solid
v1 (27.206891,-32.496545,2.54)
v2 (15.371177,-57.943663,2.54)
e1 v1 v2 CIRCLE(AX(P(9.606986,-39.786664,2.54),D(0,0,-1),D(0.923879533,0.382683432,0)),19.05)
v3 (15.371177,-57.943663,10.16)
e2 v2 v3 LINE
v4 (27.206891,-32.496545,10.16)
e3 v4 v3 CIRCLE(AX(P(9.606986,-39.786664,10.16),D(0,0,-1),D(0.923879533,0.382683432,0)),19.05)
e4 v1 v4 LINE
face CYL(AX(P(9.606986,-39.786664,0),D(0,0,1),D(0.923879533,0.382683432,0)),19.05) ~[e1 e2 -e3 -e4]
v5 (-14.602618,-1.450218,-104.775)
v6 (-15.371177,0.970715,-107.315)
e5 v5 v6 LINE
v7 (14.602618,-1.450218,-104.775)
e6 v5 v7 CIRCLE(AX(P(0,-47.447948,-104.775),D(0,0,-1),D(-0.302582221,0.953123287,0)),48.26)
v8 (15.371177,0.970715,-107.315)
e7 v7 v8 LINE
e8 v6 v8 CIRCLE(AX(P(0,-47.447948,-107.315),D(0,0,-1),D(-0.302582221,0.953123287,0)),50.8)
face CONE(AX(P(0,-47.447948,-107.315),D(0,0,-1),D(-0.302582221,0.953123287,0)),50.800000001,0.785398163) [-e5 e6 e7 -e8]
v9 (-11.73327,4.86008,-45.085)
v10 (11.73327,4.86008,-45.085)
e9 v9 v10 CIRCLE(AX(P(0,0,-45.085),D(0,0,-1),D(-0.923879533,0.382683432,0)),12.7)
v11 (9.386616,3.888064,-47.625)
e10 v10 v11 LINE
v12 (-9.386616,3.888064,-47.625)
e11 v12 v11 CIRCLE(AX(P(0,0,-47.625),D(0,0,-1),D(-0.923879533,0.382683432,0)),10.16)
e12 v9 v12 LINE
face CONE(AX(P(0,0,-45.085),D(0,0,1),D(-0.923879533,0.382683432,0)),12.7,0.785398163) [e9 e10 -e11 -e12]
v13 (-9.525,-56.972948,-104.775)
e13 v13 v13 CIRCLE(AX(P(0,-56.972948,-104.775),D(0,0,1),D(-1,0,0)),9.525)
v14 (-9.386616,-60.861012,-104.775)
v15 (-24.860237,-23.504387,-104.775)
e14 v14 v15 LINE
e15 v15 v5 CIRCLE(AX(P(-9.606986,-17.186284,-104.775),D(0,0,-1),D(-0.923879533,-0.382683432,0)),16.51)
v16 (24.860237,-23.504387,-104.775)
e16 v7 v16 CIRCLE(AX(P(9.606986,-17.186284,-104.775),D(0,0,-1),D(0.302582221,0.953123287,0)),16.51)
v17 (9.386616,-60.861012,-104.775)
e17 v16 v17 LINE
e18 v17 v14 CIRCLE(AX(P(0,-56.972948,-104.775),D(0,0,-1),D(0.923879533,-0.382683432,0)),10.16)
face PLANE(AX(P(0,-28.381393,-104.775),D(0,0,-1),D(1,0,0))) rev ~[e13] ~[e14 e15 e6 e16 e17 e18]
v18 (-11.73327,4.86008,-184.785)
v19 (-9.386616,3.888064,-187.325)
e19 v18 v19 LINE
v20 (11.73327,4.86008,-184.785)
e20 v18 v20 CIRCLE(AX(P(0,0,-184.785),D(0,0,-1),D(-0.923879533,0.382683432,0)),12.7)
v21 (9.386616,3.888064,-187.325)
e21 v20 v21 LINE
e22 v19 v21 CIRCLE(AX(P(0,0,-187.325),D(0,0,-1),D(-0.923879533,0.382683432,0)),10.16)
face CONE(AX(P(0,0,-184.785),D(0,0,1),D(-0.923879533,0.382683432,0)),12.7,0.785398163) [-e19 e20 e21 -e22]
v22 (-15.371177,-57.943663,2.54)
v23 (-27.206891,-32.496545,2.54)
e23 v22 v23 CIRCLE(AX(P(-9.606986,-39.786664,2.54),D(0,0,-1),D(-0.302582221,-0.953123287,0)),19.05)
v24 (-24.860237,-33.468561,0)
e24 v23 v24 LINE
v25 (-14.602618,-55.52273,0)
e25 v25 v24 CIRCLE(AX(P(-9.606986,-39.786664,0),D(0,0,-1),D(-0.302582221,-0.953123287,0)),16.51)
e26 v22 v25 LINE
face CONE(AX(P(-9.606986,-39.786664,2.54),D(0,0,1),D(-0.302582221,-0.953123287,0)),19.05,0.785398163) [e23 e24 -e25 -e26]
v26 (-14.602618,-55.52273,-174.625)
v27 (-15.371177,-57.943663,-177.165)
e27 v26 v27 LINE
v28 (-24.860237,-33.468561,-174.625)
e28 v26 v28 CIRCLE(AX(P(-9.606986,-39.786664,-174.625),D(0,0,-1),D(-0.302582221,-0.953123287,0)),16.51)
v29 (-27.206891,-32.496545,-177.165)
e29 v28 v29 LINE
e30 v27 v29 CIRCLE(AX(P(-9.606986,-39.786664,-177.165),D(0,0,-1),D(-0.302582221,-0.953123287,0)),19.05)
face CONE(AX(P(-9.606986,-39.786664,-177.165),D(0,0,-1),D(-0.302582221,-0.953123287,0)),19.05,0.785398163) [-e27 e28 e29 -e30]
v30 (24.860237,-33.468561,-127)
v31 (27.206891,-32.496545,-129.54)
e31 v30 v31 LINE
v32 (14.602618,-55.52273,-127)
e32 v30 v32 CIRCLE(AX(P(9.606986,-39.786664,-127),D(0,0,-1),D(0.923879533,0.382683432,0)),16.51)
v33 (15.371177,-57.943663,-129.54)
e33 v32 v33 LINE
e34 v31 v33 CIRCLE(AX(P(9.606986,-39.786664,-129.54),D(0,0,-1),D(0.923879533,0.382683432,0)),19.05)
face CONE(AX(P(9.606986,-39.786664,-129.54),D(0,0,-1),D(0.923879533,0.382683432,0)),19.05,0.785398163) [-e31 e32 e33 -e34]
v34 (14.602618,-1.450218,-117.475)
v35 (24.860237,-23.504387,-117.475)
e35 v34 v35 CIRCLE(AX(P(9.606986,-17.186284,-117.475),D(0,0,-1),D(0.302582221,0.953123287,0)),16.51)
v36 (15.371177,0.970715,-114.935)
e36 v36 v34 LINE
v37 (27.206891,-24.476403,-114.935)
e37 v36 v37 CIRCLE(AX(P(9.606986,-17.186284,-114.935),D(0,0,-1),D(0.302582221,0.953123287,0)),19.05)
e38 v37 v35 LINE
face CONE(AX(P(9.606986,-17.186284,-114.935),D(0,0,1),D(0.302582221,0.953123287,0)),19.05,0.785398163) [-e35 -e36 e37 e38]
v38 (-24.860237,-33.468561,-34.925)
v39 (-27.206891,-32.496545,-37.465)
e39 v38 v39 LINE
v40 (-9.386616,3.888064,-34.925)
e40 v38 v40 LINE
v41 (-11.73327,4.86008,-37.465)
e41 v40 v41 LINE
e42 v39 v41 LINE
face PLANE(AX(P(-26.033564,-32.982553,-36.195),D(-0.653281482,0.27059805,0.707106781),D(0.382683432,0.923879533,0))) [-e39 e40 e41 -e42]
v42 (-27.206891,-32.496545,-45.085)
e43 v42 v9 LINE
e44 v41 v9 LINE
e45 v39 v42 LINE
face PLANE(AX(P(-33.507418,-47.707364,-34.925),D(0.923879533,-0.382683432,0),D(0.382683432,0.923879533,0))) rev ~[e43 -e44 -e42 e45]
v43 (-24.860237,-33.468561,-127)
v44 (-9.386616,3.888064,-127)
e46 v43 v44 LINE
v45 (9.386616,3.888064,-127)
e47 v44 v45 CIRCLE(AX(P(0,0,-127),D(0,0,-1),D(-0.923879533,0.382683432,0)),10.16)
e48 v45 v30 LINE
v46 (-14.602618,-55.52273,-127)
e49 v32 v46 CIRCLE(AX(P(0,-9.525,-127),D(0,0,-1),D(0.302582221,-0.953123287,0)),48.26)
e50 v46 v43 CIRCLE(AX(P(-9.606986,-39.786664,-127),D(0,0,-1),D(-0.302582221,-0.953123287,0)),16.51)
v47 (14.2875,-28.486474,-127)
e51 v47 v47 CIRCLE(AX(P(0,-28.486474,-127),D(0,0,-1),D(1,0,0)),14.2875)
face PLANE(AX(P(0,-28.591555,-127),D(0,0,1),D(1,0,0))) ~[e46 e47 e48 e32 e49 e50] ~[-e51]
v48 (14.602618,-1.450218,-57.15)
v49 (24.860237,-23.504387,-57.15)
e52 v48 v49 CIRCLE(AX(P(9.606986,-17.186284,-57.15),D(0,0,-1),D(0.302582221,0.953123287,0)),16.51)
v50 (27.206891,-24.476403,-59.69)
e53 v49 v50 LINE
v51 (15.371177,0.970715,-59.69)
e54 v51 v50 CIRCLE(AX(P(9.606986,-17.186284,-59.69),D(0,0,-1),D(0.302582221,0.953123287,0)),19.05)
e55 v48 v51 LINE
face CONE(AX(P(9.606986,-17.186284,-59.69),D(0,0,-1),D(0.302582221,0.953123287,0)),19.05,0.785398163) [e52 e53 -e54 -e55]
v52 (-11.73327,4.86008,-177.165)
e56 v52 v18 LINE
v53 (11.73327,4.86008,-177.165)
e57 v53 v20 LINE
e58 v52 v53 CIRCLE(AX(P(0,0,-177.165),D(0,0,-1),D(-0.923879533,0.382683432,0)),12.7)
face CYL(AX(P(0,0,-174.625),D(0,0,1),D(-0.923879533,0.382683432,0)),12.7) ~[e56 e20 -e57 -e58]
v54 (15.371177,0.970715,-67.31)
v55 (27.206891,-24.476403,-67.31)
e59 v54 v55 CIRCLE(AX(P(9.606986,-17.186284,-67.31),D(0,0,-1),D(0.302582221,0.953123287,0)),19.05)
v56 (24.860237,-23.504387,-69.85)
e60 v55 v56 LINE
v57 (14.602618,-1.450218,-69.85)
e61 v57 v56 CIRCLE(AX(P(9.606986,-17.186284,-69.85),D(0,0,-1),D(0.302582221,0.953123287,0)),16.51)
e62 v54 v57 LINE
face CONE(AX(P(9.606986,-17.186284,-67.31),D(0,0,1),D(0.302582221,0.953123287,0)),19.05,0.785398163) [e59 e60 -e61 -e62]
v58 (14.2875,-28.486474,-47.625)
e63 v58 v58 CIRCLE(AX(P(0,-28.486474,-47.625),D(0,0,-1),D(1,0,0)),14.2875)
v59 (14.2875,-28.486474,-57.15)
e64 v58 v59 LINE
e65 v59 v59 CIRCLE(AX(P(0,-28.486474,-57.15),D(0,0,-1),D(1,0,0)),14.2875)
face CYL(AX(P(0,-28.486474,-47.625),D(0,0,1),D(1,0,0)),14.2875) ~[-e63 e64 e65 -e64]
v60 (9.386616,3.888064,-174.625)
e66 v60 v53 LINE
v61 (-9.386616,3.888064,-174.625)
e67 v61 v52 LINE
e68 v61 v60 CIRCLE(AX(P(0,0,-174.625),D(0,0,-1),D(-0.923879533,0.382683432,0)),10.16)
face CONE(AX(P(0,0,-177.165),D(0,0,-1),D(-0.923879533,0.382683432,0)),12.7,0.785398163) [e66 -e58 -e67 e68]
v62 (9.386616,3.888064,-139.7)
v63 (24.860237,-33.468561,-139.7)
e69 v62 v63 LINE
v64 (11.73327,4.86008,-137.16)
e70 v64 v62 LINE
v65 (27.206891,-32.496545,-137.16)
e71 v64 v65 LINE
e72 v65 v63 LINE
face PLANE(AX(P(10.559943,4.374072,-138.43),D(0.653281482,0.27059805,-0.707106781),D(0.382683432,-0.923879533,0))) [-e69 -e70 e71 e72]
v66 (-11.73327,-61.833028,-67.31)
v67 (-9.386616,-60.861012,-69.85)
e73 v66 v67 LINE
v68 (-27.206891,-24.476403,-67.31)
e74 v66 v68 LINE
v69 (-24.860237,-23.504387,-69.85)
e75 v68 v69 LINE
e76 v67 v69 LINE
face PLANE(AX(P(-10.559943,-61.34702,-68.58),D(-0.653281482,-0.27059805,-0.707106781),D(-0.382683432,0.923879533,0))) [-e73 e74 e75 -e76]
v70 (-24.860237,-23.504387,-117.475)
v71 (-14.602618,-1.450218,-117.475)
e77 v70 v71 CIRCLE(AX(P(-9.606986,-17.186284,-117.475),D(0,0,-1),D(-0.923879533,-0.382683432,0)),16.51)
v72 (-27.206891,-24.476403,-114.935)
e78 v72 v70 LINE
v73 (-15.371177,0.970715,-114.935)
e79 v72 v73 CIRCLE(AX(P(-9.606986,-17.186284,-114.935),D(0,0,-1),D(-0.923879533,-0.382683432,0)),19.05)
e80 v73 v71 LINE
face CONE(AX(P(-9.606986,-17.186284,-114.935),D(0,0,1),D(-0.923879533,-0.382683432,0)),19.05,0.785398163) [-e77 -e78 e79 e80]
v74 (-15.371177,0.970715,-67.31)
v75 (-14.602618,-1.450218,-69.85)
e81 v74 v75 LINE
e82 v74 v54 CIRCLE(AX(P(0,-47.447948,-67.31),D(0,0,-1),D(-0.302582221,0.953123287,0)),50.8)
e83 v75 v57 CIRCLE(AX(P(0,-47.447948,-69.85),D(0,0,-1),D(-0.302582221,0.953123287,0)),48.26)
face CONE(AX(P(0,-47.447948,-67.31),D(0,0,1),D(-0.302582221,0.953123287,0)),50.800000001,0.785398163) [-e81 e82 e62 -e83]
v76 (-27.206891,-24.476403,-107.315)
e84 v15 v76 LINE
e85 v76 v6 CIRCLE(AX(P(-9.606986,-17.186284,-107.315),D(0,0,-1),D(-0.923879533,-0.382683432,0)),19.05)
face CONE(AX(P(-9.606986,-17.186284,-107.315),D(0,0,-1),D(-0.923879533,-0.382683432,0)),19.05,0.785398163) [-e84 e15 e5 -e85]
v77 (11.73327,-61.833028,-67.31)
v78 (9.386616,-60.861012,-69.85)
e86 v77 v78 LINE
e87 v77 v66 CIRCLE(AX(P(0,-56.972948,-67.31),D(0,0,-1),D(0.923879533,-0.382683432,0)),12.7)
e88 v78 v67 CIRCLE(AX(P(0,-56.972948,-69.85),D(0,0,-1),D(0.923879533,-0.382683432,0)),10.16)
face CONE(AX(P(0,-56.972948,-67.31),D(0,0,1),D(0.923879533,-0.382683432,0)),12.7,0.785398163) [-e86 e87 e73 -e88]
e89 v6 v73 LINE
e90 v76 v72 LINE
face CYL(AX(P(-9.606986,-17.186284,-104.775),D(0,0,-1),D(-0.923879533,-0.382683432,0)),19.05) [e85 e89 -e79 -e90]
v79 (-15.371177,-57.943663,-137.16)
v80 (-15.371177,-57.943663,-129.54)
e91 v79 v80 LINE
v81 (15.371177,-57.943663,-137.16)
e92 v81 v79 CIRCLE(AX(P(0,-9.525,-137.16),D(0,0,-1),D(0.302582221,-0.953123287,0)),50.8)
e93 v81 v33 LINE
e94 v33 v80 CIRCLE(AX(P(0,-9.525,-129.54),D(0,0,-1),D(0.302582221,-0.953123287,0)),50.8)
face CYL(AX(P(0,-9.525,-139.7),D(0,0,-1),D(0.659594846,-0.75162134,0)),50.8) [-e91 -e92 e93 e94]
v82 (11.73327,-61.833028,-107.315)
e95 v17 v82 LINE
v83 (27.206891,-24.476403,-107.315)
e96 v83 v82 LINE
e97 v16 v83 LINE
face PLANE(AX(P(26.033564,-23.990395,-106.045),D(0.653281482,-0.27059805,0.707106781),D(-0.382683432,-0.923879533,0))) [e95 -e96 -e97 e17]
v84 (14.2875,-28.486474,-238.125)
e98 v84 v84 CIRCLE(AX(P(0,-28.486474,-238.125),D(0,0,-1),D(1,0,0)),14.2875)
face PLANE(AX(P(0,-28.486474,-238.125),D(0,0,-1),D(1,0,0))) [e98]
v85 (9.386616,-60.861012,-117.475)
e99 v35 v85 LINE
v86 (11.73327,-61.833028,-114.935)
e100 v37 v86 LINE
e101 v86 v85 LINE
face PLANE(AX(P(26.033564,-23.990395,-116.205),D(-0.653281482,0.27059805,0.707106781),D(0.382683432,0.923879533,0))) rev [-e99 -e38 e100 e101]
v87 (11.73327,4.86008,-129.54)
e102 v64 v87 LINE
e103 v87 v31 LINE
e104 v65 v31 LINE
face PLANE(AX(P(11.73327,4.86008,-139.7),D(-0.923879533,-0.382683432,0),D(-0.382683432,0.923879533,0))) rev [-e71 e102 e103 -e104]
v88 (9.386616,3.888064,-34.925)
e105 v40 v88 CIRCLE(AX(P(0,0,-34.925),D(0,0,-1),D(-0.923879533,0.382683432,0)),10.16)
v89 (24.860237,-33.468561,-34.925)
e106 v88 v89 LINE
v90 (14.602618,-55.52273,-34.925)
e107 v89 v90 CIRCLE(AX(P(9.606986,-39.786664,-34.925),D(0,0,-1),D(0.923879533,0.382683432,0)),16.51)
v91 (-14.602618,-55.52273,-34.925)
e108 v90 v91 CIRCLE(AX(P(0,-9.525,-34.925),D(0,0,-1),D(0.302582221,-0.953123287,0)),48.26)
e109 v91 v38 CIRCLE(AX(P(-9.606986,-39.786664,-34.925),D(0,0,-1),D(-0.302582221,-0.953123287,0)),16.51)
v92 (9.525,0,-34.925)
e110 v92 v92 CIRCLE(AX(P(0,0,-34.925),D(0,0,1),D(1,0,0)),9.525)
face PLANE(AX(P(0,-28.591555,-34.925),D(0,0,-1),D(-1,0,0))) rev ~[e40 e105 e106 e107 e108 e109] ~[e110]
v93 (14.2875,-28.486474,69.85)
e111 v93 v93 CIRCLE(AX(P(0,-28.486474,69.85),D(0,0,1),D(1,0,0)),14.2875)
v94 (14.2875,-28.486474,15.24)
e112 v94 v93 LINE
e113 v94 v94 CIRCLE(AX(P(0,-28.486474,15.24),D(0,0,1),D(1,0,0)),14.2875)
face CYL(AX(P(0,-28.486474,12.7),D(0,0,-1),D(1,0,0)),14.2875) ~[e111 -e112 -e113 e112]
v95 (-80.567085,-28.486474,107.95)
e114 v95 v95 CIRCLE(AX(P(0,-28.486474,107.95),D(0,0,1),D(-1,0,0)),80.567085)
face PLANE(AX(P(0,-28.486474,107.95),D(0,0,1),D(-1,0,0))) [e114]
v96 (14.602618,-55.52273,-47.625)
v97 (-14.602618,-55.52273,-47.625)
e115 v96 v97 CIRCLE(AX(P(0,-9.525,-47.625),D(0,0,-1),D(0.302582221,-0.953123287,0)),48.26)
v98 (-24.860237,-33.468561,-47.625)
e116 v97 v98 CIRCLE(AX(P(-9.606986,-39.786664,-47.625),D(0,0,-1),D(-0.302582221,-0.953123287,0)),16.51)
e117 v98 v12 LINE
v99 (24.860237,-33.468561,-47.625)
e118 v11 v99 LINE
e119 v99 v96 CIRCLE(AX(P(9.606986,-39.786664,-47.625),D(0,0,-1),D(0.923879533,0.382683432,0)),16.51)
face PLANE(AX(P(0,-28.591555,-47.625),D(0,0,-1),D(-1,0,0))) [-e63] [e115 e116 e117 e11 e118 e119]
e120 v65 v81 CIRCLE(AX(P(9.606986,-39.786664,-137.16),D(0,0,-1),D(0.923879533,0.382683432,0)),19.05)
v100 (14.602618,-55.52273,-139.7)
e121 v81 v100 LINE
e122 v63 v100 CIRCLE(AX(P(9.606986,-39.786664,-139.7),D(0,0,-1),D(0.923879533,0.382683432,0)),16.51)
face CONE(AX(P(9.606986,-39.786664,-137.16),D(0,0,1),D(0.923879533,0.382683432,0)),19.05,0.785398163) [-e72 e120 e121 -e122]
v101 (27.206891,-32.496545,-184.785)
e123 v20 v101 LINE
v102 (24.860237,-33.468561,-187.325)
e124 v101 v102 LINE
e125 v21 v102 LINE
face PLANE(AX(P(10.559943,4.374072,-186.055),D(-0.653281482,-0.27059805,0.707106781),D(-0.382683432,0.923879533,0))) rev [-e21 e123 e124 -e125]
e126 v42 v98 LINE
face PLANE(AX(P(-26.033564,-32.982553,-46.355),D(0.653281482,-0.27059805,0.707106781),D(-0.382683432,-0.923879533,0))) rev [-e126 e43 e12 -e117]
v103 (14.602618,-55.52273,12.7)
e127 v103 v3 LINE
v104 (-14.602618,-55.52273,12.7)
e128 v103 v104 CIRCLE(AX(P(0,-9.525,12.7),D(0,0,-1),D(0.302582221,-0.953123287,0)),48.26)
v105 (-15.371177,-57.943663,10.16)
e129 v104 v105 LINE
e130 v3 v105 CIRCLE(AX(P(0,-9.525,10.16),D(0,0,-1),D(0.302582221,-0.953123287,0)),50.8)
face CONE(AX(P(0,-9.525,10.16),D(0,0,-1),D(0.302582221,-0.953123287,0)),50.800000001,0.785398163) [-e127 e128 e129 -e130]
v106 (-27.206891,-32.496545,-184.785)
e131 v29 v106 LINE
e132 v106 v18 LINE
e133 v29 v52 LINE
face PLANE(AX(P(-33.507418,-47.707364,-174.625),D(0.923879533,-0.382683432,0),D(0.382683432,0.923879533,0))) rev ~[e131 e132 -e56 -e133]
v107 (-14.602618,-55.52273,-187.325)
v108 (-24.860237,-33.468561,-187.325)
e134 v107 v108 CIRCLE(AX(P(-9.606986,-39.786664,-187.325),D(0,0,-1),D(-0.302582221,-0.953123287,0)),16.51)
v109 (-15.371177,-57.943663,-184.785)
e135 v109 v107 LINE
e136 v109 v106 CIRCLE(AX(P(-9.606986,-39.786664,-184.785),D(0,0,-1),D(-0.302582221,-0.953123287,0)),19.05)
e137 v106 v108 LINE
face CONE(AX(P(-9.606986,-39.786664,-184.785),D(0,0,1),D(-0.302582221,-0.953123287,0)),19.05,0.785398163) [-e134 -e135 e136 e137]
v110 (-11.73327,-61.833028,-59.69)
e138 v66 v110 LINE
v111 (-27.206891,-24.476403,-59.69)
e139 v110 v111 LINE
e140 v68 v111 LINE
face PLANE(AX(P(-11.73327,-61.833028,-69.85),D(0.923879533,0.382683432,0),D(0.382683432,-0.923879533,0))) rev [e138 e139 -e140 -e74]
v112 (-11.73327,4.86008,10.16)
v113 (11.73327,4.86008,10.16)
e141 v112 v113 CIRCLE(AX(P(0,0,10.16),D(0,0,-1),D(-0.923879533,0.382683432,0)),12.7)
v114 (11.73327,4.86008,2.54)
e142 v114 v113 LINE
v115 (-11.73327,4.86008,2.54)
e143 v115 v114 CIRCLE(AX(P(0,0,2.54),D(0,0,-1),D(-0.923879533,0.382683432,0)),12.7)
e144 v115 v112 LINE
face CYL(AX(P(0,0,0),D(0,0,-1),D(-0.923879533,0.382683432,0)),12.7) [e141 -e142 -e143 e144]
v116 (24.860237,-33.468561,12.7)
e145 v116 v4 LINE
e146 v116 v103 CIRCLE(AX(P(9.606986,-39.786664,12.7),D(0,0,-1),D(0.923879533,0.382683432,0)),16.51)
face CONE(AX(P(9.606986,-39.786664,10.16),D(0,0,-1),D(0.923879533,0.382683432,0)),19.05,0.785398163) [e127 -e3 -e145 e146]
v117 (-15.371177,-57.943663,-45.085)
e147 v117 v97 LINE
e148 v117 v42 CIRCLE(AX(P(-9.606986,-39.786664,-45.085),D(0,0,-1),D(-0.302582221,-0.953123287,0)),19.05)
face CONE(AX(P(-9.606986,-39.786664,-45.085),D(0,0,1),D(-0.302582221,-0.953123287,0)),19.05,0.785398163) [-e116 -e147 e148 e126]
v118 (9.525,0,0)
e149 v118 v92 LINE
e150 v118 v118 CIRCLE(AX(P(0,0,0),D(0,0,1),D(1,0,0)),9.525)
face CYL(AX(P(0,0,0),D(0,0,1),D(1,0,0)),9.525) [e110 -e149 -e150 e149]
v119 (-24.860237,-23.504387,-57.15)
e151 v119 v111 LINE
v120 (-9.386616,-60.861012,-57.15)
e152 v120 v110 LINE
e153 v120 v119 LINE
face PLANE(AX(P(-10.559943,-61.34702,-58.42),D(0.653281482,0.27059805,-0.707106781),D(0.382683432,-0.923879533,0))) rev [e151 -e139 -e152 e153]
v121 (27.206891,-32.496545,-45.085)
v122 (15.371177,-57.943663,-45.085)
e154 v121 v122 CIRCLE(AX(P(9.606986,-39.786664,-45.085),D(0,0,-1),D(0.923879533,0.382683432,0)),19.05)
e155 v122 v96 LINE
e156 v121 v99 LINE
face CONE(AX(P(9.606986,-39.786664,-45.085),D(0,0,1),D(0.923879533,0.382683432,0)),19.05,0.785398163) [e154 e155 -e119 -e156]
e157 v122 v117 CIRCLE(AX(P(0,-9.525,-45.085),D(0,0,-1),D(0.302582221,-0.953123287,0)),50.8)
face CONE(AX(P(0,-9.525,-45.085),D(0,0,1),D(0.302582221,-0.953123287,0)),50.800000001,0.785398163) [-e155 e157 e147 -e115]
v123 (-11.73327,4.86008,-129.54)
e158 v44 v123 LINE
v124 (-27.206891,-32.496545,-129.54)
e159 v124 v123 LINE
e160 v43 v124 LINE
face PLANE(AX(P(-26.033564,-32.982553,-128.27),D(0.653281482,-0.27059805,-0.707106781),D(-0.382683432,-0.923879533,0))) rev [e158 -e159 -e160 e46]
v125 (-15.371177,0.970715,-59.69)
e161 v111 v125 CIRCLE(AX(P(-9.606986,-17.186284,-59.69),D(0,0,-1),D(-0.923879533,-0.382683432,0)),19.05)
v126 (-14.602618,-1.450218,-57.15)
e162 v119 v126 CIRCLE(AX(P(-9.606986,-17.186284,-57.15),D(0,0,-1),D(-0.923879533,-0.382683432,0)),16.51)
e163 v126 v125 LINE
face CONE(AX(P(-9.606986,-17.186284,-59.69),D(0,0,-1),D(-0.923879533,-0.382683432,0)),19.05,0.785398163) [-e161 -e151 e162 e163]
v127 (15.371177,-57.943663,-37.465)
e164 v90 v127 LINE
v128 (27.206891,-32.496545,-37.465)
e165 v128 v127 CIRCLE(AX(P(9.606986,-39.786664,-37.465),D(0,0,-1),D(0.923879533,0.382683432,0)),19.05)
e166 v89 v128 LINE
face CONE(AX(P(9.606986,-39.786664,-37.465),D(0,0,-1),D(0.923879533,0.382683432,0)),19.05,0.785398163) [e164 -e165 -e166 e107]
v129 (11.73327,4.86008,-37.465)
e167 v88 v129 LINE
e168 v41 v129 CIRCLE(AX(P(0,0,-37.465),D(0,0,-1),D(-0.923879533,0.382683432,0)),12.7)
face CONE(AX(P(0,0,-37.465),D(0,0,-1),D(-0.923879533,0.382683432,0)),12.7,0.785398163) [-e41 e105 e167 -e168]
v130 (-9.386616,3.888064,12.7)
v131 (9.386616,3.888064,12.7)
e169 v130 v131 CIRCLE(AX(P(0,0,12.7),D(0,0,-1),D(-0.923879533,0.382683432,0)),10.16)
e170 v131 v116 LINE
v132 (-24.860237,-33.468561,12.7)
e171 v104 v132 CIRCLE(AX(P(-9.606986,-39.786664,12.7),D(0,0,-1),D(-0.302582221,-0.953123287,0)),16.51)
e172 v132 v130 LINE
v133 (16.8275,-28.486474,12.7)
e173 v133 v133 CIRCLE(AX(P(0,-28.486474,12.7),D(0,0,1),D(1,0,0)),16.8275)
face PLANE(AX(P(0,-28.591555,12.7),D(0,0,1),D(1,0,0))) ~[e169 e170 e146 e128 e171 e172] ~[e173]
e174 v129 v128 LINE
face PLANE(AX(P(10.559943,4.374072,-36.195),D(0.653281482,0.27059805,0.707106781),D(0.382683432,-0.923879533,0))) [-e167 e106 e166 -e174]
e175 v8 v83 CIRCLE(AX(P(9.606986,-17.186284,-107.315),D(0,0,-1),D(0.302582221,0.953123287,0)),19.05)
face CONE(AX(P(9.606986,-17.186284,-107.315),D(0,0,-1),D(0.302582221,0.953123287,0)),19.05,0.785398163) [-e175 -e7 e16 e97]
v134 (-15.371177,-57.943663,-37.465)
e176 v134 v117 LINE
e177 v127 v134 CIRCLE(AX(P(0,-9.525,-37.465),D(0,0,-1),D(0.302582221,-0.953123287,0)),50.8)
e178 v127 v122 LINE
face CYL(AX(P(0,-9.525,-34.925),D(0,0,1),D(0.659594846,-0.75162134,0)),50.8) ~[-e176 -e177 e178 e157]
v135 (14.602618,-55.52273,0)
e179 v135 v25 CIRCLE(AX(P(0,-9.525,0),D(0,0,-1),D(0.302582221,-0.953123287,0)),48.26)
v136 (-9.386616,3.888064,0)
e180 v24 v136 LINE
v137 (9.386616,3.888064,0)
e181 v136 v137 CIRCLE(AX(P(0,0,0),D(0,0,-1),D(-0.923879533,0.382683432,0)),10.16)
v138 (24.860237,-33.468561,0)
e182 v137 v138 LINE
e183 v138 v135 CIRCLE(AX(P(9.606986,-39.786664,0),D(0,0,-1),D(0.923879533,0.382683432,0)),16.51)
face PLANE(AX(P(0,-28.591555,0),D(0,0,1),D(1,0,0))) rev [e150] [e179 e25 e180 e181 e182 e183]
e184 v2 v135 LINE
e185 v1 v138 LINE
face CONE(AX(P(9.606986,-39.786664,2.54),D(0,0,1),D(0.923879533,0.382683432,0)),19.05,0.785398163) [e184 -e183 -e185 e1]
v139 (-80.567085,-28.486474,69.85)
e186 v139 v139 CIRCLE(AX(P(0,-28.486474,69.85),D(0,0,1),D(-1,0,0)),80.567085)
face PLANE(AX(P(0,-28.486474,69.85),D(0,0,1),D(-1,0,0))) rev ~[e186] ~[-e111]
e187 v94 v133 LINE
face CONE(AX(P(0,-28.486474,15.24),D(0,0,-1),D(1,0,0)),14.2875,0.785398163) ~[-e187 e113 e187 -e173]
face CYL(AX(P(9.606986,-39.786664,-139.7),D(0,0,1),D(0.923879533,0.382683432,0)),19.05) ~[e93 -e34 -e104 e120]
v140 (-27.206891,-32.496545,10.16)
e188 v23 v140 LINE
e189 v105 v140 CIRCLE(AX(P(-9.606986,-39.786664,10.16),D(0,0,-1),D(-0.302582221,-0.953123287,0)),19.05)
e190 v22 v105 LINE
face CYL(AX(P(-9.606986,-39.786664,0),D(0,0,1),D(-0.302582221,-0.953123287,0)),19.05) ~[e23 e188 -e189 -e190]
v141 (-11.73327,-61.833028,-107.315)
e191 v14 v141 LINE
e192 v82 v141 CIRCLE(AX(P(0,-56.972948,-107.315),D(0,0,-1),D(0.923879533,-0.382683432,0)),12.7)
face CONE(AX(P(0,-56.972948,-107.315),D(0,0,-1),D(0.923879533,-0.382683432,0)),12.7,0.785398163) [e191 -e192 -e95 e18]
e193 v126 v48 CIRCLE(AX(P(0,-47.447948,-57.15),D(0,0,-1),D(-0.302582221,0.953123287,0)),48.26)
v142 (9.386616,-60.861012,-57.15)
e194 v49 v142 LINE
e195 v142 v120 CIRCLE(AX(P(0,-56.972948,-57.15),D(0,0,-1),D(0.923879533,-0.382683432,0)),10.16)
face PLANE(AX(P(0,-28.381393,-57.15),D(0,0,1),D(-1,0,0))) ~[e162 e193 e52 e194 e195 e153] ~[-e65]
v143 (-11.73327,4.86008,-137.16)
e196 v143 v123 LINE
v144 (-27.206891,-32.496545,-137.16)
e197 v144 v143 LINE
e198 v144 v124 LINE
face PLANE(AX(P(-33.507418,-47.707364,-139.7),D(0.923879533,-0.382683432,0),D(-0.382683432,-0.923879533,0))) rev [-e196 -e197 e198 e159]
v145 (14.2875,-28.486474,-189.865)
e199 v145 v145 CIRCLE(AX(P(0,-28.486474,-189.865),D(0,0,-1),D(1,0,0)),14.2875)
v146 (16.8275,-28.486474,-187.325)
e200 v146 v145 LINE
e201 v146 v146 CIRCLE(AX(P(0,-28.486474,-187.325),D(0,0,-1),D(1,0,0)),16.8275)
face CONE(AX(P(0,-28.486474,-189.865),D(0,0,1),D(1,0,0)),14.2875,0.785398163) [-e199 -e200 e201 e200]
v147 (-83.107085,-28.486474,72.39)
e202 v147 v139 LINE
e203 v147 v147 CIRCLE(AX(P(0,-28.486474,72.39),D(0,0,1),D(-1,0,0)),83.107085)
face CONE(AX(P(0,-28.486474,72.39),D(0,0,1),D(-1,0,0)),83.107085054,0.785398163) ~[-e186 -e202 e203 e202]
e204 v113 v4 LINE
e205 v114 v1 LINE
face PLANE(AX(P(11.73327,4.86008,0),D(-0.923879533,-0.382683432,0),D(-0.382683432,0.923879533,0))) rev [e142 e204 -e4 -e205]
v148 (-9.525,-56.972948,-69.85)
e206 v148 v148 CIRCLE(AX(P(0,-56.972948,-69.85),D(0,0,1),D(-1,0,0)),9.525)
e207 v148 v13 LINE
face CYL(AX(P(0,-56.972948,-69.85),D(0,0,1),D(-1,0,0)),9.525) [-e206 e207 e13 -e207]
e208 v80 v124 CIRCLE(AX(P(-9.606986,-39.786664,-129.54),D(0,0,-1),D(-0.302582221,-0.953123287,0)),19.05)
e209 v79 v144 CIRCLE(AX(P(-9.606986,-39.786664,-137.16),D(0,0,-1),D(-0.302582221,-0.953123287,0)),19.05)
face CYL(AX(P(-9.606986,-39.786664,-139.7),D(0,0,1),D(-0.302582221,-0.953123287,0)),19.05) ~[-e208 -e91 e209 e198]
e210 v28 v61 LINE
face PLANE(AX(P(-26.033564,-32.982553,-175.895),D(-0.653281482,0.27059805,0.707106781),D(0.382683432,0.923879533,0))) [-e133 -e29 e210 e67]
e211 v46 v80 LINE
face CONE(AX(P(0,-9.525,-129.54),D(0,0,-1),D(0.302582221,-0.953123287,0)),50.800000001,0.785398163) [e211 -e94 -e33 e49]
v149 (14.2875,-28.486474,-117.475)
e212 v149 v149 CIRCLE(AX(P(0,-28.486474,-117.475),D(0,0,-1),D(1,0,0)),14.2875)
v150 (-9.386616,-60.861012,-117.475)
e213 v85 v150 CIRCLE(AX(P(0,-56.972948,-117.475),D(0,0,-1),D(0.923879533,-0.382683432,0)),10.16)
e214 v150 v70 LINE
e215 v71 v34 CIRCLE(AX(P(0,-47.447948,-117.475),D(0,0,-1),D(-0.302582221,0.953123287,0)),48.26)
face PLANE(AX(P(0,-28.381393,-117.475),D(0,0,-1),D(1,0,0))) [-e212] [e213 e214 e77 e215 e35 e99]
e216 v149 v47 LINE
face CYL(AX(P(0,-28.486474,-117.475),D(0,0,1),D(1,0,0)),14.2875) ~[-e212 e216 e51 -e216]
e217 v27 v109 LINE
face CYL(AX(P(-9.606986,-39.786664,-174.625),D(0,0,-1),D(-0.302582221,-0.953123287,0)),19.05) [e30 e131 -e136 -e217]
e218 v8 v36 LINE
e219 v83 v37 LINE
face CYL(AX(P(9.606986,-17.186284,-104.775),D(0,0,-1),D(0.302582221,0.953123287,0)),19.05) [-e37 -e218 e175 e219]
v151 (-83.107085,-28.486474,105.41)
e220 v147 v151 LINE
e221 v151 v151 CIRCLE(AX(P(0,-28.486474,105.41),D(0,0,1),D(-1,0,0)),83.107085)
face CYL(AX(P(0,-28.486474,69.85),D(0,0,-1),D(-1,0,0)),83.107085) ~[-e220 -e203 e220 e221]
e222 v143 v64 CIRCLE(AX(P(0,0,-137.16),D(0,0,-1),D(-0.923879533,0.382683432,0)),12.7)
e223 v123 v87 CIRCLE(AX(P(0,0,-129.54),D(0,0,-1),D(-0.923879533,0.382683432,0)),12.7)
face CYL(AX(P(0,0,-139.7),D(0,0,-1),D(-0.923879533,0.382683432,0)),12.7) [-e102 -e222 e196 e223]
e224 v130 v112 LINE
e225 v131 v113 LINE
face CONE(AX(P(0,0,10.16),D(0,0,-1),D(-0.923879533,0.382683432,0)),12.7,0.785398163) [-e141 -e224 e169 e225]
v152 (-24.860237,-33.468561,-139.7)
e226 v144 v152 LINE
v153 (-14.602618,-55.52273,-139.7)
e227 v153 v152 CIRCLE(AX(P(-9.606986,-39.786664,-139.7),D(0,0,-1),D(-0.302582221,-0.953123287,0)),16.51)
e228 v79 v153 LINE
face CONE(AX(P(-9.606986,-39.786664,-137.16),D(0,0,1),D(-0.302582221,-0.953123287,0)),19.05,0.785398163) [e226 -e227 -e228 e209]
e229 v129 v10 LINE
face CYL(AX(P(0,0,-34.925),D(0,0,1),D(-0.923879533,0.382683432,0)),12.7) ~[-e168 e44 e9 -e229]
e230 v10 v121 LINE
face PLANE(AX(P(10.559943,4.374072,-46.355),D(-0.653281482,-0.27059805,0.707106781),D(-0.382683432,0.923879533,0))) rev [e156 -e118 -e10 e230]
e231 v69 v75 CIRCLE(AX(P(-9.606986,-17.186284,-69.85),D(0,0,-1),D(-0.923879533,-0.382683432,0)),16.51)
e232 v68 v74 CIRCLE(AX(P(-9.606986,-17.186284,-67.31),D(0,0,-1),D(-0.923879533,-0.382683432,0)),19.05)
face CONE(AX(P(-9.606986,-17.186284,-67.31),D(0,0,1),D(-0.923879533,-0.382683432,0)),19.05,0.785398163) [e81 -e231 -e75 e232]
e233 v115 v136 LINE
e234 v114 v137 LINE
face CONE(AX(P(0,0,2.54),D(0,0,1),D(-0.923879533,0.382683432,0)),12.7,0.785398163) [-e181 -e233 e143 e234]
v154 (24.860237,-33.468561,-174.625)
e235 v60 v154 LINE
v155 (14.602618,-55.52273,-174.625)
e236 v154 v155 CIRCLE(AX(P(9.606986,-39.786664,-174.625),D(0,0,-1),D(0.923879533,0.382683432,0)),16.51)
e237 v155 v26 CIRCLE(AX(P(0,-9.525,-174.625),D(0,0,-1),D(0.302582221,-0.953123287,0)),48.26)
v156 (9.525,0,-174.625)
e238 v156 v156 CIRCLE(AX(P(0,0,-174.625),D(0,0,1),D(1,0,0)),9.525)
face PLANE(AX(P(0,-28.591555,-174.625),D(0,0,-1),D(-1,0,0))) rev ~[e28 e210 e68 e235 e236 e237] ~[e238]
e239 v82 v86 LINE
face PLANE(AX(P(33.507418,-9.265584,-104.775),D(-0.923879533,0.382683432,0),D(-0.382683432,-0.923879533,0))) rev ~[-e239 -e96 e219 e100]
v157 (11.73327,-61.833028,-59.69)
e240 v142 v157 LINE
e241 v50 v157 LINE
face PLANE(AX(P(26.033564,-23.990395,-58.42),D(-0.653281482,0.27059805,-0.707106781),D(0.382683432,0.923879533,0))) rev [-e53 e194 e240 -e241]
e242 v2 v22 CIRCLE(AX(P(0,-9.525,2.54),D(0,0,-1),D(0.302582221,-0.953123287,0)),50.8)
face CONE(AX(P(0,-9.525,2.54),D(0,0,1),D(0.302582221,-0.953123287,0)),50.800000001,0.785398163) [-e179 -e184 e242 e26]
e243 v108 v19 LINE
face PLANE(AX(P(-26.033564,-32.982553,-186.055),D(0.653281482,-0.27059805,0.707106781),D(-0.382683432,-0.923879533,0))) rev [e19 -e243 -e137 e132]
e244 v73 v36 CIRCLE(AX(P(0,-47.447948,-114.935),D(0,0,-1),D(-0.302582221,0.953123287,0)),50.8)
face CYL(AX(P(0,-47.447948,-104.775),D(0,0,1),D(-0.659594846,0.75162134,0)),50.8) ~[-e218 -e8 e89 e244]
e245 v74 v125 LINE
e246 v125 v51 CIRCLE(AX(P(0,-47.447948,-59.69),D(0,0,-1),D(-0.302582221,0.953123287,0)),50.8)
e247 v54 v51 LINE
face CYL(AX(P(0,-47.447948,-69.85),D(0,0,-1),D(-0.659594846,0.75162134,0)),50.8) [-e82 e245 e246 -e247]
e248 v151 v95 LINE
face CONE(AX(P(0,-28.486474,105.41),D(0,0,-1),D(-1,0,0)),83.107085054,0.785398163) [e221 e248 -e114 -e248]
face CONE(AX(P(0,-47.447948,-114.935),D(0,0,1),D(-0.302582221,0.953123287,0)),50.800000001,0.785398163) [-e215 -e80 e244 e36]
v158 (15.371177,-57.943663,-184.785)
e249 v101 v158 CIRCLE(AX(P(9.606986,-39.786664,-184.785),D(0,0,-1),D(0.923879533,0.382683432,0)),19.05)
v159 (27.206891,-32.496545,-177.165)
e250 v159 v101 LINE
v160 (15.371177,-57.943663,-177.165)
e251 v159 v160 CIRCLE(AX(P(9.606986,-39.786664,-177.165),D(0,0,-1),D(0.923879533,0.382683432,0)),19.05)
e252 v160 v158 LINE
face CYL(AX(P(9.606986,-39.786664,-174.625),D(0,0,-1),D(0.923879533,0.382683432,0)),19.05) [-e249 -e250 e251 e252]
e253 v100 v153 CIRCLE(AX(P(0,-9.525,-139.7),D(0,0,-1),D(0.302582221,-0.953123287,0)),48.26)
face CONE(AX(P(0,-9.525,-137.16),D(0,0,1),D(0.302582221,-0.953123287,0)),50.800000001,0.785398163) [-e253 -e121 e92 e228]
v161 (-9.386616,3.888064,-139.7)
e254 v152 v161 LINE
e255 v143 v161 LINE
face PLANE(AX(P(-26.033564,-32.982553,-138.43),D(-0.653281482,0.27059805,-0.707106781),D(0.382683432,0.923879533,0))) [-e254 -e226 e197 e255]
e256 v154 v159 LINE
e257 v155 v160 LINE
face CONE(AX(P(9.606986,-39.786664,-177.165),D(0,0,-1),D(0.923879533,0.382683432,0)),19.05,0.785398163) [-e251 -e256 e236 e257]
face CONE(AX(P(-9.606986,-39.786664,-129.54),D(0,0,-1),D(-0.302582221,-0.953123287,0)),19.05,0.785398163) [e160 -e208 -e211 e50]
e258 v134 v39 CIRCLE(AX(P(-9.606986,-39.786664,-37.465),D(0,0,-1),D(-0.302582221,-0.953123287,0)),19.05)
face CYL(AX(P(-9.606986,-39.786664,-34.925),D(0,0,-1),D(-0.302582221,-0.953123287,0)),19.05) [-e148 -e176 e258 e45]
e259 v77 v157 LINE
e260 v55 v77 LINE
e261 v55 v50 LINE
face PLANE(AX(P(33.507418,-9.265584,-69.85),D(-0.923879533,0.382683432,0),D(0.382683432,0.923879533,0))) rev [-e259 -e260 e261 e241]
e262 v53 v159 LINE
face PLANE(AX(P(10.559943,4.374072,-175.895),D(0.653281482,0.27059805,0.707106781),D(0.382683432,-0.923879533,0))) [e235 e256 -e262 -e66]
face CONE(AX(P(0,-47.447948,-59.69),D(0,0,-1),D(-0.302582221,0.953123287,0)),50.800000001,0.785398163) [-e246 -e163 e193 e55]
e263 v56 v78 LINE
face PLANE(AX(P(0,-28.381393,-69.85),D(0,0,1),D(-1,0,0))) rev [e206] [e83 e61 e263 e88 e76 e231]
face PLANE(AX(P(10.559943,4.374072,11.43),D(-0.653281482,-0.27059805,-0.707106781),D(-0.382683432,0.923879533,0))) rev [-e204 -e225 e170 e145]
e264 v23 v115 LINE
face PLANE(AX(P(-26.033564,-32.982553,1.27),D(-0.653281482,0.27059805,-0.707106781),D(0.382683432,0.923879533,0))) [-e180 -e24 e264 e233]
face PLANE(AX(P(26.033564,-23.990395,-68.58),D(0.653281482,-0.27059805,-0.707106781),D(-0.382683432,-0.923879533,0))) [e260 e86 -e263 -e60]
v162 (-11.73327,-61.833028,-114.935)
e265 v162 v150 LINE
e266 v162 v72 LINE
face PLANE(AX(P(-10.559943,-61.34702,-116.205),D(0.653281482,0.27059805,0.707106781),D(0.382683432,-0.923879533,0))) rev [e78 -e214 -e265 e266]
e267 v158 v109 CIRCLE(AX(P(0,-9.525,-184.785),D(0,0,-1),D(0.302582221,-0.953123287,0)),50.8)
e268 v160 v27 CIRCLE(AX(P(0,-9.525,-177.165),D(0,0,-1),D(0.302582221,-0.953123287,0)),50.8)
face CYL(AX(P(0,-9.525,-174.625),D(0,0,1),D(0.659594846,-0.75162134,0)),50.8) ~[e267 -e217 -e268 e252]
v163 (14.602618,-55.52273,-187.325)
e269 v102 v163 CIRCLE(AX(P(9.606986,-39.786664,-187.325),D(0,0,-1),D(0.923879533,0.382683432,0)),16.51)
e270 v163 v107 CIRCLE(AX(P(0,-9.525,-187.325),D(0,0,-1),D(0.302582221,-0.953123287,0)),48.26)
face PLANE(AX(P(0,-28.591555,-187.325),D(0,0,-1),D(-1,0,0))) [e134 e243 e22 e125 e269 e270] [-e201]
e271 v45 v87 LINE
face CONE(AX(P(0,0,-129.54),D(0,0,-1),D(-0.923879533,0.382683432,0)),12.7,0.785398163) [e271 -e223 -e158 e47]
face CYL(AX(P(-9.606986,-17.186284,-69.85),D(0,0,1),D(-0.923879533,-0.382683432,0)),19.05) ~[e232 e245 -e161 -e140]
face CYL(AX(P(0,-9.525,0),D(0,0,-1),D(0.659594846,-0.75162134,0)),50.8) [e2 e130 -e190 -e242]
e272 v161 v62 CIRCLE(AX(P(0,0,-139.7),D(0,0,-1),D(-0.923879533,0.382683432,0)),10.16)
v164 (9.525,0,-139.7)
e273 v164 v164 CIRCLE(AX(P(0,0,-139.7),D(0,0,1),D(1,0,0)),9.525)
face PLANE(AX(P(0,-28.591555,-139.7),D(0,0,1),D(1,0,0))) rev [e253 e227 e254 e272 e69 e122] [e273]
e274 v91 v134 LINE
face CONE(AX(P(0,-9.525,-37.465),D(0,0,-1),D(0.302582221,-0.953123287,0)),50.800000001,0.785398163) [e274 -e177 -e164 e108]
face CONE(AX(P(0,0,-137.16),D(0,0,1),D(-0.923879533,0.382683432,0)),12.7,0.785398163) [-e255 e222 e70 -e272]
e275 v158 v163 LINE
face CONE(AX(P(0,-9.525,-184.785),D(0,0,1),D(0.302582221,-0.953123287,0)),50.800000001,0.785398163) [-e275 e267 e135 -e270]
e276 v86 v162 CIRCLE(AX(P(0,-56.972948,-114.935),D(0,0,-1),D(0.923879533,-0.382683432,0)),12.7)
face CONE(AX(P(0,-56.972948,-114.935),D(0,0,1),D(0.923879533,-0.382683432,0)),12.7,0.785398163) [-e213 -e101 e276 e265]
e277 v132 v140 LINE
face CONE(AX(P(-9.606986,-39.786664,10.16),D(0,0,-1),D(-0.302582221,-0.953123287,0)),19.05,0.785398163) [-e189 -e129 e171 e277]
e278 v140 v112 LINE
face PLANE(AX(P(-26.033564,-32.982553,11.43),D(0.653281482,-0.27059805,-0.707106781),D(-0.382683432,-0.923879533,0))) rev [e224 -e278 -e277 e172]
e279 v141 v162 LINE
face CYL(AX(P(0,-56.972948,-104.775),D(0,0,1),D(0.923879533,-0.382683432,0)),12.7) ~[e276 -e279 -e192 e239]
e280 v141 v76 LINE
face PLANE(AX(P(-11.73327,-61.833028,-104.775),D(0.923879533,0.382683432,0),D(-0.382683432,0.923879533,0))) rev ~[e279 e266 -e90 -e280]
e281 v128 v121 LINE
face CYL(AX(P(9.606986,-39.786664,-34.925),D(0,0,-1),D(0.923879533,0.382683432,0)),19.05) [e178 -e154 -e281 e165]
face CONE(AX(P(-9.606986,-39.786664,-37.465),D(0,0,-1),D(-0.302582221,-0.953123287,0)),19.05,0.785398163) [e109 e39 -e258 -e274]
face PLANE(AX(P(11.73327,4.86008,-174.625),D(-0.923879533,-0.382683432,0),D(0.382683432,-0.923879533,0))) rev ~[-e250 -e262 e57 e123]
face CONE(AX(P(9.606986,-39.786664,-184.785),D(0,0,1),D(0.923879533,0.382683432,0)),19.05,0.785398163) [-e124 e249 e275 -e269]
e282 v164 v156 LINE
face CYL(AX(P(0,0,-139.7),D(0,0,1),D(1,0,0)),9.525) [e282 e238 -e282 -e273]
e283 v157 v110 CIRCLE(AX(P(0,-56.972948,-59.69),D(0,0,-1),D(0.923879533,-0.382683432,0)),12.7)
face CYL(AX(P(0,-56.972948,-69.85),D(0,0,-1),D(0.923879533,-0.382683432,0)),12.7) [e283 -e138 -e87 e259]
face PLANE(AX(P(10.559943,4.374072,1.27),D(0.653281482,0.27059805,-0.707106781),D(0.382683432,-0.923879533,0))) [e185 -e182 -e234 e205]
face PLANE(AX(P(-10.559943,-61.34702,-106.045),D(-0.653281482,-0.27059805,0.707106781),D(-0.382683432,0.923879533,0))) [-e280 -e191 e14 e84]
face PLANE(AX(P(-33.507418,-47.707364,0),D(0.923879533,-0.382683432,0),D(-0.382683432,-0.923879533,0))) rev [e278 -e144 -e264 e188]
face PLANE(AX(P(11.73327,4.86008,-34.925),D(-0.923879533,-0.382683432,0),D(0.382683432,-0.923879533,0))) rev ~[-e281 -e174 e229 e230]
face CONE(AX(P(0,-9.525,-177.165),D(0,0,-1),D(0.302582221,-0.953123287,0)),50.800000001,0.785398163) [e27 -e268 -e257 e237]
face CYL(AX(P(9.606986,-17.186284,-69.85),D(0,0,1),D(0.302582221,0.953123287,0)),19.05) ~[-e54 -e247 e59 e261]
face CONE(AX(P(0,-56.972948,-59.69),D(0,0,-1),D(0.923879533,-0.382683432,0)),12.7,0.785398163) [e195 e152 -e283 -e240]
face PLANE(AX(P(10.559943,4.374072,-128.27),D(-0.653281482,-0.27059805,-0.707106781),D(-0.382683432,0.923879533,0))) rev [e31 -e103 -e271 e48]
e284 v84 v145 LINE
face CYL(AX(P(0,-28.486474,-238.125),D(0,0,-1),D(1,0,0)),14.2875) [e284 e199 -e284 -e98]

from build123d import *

# Parameters (mm, degrees)
SKETCH1_R             = 9.525
BOSS_EXTRUDE1_DEPTH   = 34.925
BOSS_EXTRUDE2_DEPTH   = 12.7
FILLET1_R             = 19.05
SKETCH3_R             = 14.2875
BOSS_EXTRUDE3_DEPTH   = 9.525
LPATTERN1_COUNT       = 3
LPATTERN1_PITCH       = 69.85
BODY_MOVE_COPY1_ANGLE = 180
LPATTERN2_COUNT       = 2
LPATTERN2_PITCH       = 69.85
SKETCH4_R             = 14.2875
BOSS_EXTRUDE4_DEPTH   = 57.15
BOSS_EXTRUDE5_START   = 50.8
SKETCH5_R             = 14.2875
BOSS_EXTRUDE5_DEPTH   = 50.8
SKETCH6_R             = 83.107085054
BOSS_EXTRUDE6_DEPTH   = 38.1
CHAMFER1_SIZE         = 2.54


with BuildPart() as part:
    # Sketch1 → Boss-Extrude1 (new body)
    with BuildSketch(Plane.XY):
        Circle(SKETCH1_R)
    extrude(amount=-BOSS_EXTRUDE1_DEPTH)

    # Sketch2 → Boss-Extrude2 (add)
    with BuildSketch(Plane(origin=(0, 0, -34.925), x_dir=(-1, 0, 0), z_dir=(0, 0, -1))):
        with BuildLine():
            Line((-11.733270063, 4.860079591), (-33.507418174, -47.707364088))
            ThreePointArc((-33.507418174, -47.707364088), (0, -60.325), (33.507418174, -47.707364088))
            Line((33.507418174, -47.707364088), (11.733270063, 4.860079591))
            ThreePointArc((11.733270063, 4.860079591), (0, 12.7), (-11.733270063, 4.860079591))
        make_face()
    extrude(amount=BOSS_EXTRUDE2_DEPTH)

    # Fillet1
    fillet1_edges = [part.edges().sort_by_distance(p)[0] for p in [
        (33.507418174, -47.707364088, -41.275),
        (-33.507418174, -47.707364088, -41.275),
    ]]
    fillet(fillet1_edges, radius=FILLET1_R)

    # Mirror2: part across plane


with BuildPart() as part_1:
    add(part.part)
    add(part.part.mirror(Plane.XY.offset(-17.4625)))


with BuildPart() as body_2:
    # Sketch3 → Boss-Extrude3 (new body)
    with BuildSketch(Plane(origin=(0, 0, -47.625), x_dir=(-1, 0, 0), z_dir=(0, 0, -1))):
        with Locations((0, -28.486474017)):
            Circle(SKETCH3_R)
    boss_extrude3 = extrude(amount=BOSS_EXTRUDE3_DEPTH)


with BuildPart() as lpattern1_1:
    # LPattern1: pattern copy
    add(part_1.part.moved(Location(Vector(0, 0, -1) * (1 * LPATTERN1_PITCH))))


with BuildPart() as lpattern1_2:
    # LPattern1: pattern copy
    add(part_1.part.moved(Location(Vector(0, 0, -1) * (2 * LPATTERN1_PITCH))))

    # Sketch5 → Boss-Extrude5 (add)
    with BuildSketch(Plane(origin=(0, 0, -187.325), x_dir=(-1, 0, 0), z_dir=(0, 0, -1)).offset(BOSS_EXTRUDE5_START)):
        with Locations((0, -28.486474017)):
            Circle(SKETCH5_R)
    extrude(amount=-BOSS_EXTRUDE5_DEPTH)


with BuildPart() as lpattern1_1_1:
    # Body-Move/Copy1: moved
    add(lpattern1_1.part.rotate(Axis((0, -28.486474017, 0), (0, 0, 1)), BODY_MOVE_COPY1_ANGLE))


with BuildPart() as lpattern2_1:
    # LPattern2: Boss-Extrude3 ×2
    with Locations(*[(0, 0, -i * LPATTERN2_PITCH) for i in range(1, LPATTERN2_COUNT)]):
        add(boss_extrude3)


with BuildPart() as part_2:
    add(part_1.part)

    # Sketch4 → Boss-Extrude4 (add)
    with BuildSketch(Plane.XY.offset(12.7)):
        with Locations((0, -28.486474017)):
            Circle(SKETCH4_R)
    extrude(amount=BOSS_EXTRUDE4_DEPTH)

    # Sketch6 → Boss-Extrude6 (add)
    with BuildSketch(Plane.XY.offset(69.85)):
        with Locations((0, -28.486474017)):
            Circle(SKETCH6_R)
    extrude(amount=BOSS_EXTRUDE6_DEPTH)


with BuildPart() as body_2_1:
    add(body_2.part)

    # Combine1: union LPattern1_1, LPattern2_1, LPattern1_2, part
    add(lpattern1_1_1.part)
    add(lpattern2_1.part)
    add(lpattern1_2.part)
    add(part_2.part)

    # Chamfer1
    chamfer1_edges = [body_2_1.edges().sort_by_distance(p)[0] for p in [
        (14.2875, -28.486474017, -187.325),
        (-14.2875, -28.486474017, 12.7),
        (-26.88006293, -47.820548612, -174.625),
        (-19.470080331, -13.818232688, -174.625),
        (0, -60.325, -174.625),
        (0, 12.7, -174.625),
        (26.88006293, -47.820548612, -174.625),
        (19.470080331, -13.818232688, -174.625),
        (-26.88006293, -47.820548612, -187.325),
        (-19.470080331, -13.818232688, -187.325),
        (0, -60.325, -187.325),
        (0, 12.7, -187.325),
        (26.88006293, -47.820548612, -187.325),
        (19.470080331, -13.818232688, -187.325),
        (-26.88006293, -47.820548612, -139.7),
        (-19.470080331, -13.818232688, -139.7),
        (0, -60.325, -139.7),
        (0, 12.7, -139.7),
        (26.88006293, -47.820548612, -139.7),
        (19.470080331, -13.818232688, -139.7),
        (-26.88006293, -47.820548612, -127),
        (-19.470080331, -13.818232688, -127),
        (0, -60.325, -127),
        (0, 12.7, -127),
        (26.88006293, -47.820548612, -127),
        (19.470080331, -13.818232688, -127),
        (-19.470080331, -43.154715345, -117.475),
        (-26.88006293, -9.152399421, -117.475),
        (0, -69.672948033, -117.475),
        (0, 3.352051967, -117.475),
        (19.470080331, -43.154715345, -117.475),
        (26.88006293, -9.152399421, -117.475),
        (-19.470080331, -43.154715345, -104.775),
        (0, -69.672948033, -104.775),
        (-26.88006293, -9.152399421, -104.775),
        (19.470080331, -43.154715345, -104.775),
        (0, 3.352051967, -104.775),
        (26.88006293, -9.152399421, -104.775),
        (-19.470080331, -43.154715345, -69.85),
        (0, -69.672948033, -69.85),
        (-26.88006293, -9.152399421, -69.85),
        (19.470080331, -43.154715345, -69.85),
        (0, 3.352051967, -69.85),
        (26.88006293, -9.152399421, -69.85),
        (-19.470080331, -43.154715345, -57.15),
        (-26.88006293, -9.152399421, -57.15),
        (0, -69.672948033, -57.15),
        (0, 3.352051967, -57.15),
        (19.470080331, -43.154715345, -57.15),
        (26.88006293, -9.152399421, -57.15),
        (-19.470080331, -13.818232688, -47.625),
        (0, 12.7, -47.625),
        (-26.88006293, -47.820548612, -47.625),
        (19.470080331, -13.818232688, -47.625),
        (0, -60.325, -47.625),
        (26.88006293, -47.820548612, -47.625),
        (-19.470080331, -13.818232688, -34.925),
        (-26.88006293, -47.820548612, -34.925),
        (0, 12.7, -34.925),
        (0, -60.325, -34.925),
        (19.470080331, -13.818232688, -34.925),
        (26.88006293, -47.820548612, -34.925),
        (-19.470080331, -13.818232688, 0),
        (-26.88006293, -47.820548612, 0),
        (0, 12.7, 0),
        (0, -60.325, 0),
        (19.470080331, -13.818232688, 0),
        (26.88006293, -47.820548612, 0),
        (-19.470080331, -13.818232688, 12.7),
        (0, 12.7, 12.7),
        (-26.88006293, -47.820548612, 12.7),
        (19.470080331, -13.818232688, 12.7),
        (0, -60.325, 12.7),
        (26.88006293, -47.820548612, 12.7),
        (-83.107085054, -28.486474017, 69.85),
        (-83.107085054, -28.486474017, 107.95),
    ]]
    chamfer(chamfer1_edges, length=CHAMFER1_SIZE)


solid = body_2_1.part
